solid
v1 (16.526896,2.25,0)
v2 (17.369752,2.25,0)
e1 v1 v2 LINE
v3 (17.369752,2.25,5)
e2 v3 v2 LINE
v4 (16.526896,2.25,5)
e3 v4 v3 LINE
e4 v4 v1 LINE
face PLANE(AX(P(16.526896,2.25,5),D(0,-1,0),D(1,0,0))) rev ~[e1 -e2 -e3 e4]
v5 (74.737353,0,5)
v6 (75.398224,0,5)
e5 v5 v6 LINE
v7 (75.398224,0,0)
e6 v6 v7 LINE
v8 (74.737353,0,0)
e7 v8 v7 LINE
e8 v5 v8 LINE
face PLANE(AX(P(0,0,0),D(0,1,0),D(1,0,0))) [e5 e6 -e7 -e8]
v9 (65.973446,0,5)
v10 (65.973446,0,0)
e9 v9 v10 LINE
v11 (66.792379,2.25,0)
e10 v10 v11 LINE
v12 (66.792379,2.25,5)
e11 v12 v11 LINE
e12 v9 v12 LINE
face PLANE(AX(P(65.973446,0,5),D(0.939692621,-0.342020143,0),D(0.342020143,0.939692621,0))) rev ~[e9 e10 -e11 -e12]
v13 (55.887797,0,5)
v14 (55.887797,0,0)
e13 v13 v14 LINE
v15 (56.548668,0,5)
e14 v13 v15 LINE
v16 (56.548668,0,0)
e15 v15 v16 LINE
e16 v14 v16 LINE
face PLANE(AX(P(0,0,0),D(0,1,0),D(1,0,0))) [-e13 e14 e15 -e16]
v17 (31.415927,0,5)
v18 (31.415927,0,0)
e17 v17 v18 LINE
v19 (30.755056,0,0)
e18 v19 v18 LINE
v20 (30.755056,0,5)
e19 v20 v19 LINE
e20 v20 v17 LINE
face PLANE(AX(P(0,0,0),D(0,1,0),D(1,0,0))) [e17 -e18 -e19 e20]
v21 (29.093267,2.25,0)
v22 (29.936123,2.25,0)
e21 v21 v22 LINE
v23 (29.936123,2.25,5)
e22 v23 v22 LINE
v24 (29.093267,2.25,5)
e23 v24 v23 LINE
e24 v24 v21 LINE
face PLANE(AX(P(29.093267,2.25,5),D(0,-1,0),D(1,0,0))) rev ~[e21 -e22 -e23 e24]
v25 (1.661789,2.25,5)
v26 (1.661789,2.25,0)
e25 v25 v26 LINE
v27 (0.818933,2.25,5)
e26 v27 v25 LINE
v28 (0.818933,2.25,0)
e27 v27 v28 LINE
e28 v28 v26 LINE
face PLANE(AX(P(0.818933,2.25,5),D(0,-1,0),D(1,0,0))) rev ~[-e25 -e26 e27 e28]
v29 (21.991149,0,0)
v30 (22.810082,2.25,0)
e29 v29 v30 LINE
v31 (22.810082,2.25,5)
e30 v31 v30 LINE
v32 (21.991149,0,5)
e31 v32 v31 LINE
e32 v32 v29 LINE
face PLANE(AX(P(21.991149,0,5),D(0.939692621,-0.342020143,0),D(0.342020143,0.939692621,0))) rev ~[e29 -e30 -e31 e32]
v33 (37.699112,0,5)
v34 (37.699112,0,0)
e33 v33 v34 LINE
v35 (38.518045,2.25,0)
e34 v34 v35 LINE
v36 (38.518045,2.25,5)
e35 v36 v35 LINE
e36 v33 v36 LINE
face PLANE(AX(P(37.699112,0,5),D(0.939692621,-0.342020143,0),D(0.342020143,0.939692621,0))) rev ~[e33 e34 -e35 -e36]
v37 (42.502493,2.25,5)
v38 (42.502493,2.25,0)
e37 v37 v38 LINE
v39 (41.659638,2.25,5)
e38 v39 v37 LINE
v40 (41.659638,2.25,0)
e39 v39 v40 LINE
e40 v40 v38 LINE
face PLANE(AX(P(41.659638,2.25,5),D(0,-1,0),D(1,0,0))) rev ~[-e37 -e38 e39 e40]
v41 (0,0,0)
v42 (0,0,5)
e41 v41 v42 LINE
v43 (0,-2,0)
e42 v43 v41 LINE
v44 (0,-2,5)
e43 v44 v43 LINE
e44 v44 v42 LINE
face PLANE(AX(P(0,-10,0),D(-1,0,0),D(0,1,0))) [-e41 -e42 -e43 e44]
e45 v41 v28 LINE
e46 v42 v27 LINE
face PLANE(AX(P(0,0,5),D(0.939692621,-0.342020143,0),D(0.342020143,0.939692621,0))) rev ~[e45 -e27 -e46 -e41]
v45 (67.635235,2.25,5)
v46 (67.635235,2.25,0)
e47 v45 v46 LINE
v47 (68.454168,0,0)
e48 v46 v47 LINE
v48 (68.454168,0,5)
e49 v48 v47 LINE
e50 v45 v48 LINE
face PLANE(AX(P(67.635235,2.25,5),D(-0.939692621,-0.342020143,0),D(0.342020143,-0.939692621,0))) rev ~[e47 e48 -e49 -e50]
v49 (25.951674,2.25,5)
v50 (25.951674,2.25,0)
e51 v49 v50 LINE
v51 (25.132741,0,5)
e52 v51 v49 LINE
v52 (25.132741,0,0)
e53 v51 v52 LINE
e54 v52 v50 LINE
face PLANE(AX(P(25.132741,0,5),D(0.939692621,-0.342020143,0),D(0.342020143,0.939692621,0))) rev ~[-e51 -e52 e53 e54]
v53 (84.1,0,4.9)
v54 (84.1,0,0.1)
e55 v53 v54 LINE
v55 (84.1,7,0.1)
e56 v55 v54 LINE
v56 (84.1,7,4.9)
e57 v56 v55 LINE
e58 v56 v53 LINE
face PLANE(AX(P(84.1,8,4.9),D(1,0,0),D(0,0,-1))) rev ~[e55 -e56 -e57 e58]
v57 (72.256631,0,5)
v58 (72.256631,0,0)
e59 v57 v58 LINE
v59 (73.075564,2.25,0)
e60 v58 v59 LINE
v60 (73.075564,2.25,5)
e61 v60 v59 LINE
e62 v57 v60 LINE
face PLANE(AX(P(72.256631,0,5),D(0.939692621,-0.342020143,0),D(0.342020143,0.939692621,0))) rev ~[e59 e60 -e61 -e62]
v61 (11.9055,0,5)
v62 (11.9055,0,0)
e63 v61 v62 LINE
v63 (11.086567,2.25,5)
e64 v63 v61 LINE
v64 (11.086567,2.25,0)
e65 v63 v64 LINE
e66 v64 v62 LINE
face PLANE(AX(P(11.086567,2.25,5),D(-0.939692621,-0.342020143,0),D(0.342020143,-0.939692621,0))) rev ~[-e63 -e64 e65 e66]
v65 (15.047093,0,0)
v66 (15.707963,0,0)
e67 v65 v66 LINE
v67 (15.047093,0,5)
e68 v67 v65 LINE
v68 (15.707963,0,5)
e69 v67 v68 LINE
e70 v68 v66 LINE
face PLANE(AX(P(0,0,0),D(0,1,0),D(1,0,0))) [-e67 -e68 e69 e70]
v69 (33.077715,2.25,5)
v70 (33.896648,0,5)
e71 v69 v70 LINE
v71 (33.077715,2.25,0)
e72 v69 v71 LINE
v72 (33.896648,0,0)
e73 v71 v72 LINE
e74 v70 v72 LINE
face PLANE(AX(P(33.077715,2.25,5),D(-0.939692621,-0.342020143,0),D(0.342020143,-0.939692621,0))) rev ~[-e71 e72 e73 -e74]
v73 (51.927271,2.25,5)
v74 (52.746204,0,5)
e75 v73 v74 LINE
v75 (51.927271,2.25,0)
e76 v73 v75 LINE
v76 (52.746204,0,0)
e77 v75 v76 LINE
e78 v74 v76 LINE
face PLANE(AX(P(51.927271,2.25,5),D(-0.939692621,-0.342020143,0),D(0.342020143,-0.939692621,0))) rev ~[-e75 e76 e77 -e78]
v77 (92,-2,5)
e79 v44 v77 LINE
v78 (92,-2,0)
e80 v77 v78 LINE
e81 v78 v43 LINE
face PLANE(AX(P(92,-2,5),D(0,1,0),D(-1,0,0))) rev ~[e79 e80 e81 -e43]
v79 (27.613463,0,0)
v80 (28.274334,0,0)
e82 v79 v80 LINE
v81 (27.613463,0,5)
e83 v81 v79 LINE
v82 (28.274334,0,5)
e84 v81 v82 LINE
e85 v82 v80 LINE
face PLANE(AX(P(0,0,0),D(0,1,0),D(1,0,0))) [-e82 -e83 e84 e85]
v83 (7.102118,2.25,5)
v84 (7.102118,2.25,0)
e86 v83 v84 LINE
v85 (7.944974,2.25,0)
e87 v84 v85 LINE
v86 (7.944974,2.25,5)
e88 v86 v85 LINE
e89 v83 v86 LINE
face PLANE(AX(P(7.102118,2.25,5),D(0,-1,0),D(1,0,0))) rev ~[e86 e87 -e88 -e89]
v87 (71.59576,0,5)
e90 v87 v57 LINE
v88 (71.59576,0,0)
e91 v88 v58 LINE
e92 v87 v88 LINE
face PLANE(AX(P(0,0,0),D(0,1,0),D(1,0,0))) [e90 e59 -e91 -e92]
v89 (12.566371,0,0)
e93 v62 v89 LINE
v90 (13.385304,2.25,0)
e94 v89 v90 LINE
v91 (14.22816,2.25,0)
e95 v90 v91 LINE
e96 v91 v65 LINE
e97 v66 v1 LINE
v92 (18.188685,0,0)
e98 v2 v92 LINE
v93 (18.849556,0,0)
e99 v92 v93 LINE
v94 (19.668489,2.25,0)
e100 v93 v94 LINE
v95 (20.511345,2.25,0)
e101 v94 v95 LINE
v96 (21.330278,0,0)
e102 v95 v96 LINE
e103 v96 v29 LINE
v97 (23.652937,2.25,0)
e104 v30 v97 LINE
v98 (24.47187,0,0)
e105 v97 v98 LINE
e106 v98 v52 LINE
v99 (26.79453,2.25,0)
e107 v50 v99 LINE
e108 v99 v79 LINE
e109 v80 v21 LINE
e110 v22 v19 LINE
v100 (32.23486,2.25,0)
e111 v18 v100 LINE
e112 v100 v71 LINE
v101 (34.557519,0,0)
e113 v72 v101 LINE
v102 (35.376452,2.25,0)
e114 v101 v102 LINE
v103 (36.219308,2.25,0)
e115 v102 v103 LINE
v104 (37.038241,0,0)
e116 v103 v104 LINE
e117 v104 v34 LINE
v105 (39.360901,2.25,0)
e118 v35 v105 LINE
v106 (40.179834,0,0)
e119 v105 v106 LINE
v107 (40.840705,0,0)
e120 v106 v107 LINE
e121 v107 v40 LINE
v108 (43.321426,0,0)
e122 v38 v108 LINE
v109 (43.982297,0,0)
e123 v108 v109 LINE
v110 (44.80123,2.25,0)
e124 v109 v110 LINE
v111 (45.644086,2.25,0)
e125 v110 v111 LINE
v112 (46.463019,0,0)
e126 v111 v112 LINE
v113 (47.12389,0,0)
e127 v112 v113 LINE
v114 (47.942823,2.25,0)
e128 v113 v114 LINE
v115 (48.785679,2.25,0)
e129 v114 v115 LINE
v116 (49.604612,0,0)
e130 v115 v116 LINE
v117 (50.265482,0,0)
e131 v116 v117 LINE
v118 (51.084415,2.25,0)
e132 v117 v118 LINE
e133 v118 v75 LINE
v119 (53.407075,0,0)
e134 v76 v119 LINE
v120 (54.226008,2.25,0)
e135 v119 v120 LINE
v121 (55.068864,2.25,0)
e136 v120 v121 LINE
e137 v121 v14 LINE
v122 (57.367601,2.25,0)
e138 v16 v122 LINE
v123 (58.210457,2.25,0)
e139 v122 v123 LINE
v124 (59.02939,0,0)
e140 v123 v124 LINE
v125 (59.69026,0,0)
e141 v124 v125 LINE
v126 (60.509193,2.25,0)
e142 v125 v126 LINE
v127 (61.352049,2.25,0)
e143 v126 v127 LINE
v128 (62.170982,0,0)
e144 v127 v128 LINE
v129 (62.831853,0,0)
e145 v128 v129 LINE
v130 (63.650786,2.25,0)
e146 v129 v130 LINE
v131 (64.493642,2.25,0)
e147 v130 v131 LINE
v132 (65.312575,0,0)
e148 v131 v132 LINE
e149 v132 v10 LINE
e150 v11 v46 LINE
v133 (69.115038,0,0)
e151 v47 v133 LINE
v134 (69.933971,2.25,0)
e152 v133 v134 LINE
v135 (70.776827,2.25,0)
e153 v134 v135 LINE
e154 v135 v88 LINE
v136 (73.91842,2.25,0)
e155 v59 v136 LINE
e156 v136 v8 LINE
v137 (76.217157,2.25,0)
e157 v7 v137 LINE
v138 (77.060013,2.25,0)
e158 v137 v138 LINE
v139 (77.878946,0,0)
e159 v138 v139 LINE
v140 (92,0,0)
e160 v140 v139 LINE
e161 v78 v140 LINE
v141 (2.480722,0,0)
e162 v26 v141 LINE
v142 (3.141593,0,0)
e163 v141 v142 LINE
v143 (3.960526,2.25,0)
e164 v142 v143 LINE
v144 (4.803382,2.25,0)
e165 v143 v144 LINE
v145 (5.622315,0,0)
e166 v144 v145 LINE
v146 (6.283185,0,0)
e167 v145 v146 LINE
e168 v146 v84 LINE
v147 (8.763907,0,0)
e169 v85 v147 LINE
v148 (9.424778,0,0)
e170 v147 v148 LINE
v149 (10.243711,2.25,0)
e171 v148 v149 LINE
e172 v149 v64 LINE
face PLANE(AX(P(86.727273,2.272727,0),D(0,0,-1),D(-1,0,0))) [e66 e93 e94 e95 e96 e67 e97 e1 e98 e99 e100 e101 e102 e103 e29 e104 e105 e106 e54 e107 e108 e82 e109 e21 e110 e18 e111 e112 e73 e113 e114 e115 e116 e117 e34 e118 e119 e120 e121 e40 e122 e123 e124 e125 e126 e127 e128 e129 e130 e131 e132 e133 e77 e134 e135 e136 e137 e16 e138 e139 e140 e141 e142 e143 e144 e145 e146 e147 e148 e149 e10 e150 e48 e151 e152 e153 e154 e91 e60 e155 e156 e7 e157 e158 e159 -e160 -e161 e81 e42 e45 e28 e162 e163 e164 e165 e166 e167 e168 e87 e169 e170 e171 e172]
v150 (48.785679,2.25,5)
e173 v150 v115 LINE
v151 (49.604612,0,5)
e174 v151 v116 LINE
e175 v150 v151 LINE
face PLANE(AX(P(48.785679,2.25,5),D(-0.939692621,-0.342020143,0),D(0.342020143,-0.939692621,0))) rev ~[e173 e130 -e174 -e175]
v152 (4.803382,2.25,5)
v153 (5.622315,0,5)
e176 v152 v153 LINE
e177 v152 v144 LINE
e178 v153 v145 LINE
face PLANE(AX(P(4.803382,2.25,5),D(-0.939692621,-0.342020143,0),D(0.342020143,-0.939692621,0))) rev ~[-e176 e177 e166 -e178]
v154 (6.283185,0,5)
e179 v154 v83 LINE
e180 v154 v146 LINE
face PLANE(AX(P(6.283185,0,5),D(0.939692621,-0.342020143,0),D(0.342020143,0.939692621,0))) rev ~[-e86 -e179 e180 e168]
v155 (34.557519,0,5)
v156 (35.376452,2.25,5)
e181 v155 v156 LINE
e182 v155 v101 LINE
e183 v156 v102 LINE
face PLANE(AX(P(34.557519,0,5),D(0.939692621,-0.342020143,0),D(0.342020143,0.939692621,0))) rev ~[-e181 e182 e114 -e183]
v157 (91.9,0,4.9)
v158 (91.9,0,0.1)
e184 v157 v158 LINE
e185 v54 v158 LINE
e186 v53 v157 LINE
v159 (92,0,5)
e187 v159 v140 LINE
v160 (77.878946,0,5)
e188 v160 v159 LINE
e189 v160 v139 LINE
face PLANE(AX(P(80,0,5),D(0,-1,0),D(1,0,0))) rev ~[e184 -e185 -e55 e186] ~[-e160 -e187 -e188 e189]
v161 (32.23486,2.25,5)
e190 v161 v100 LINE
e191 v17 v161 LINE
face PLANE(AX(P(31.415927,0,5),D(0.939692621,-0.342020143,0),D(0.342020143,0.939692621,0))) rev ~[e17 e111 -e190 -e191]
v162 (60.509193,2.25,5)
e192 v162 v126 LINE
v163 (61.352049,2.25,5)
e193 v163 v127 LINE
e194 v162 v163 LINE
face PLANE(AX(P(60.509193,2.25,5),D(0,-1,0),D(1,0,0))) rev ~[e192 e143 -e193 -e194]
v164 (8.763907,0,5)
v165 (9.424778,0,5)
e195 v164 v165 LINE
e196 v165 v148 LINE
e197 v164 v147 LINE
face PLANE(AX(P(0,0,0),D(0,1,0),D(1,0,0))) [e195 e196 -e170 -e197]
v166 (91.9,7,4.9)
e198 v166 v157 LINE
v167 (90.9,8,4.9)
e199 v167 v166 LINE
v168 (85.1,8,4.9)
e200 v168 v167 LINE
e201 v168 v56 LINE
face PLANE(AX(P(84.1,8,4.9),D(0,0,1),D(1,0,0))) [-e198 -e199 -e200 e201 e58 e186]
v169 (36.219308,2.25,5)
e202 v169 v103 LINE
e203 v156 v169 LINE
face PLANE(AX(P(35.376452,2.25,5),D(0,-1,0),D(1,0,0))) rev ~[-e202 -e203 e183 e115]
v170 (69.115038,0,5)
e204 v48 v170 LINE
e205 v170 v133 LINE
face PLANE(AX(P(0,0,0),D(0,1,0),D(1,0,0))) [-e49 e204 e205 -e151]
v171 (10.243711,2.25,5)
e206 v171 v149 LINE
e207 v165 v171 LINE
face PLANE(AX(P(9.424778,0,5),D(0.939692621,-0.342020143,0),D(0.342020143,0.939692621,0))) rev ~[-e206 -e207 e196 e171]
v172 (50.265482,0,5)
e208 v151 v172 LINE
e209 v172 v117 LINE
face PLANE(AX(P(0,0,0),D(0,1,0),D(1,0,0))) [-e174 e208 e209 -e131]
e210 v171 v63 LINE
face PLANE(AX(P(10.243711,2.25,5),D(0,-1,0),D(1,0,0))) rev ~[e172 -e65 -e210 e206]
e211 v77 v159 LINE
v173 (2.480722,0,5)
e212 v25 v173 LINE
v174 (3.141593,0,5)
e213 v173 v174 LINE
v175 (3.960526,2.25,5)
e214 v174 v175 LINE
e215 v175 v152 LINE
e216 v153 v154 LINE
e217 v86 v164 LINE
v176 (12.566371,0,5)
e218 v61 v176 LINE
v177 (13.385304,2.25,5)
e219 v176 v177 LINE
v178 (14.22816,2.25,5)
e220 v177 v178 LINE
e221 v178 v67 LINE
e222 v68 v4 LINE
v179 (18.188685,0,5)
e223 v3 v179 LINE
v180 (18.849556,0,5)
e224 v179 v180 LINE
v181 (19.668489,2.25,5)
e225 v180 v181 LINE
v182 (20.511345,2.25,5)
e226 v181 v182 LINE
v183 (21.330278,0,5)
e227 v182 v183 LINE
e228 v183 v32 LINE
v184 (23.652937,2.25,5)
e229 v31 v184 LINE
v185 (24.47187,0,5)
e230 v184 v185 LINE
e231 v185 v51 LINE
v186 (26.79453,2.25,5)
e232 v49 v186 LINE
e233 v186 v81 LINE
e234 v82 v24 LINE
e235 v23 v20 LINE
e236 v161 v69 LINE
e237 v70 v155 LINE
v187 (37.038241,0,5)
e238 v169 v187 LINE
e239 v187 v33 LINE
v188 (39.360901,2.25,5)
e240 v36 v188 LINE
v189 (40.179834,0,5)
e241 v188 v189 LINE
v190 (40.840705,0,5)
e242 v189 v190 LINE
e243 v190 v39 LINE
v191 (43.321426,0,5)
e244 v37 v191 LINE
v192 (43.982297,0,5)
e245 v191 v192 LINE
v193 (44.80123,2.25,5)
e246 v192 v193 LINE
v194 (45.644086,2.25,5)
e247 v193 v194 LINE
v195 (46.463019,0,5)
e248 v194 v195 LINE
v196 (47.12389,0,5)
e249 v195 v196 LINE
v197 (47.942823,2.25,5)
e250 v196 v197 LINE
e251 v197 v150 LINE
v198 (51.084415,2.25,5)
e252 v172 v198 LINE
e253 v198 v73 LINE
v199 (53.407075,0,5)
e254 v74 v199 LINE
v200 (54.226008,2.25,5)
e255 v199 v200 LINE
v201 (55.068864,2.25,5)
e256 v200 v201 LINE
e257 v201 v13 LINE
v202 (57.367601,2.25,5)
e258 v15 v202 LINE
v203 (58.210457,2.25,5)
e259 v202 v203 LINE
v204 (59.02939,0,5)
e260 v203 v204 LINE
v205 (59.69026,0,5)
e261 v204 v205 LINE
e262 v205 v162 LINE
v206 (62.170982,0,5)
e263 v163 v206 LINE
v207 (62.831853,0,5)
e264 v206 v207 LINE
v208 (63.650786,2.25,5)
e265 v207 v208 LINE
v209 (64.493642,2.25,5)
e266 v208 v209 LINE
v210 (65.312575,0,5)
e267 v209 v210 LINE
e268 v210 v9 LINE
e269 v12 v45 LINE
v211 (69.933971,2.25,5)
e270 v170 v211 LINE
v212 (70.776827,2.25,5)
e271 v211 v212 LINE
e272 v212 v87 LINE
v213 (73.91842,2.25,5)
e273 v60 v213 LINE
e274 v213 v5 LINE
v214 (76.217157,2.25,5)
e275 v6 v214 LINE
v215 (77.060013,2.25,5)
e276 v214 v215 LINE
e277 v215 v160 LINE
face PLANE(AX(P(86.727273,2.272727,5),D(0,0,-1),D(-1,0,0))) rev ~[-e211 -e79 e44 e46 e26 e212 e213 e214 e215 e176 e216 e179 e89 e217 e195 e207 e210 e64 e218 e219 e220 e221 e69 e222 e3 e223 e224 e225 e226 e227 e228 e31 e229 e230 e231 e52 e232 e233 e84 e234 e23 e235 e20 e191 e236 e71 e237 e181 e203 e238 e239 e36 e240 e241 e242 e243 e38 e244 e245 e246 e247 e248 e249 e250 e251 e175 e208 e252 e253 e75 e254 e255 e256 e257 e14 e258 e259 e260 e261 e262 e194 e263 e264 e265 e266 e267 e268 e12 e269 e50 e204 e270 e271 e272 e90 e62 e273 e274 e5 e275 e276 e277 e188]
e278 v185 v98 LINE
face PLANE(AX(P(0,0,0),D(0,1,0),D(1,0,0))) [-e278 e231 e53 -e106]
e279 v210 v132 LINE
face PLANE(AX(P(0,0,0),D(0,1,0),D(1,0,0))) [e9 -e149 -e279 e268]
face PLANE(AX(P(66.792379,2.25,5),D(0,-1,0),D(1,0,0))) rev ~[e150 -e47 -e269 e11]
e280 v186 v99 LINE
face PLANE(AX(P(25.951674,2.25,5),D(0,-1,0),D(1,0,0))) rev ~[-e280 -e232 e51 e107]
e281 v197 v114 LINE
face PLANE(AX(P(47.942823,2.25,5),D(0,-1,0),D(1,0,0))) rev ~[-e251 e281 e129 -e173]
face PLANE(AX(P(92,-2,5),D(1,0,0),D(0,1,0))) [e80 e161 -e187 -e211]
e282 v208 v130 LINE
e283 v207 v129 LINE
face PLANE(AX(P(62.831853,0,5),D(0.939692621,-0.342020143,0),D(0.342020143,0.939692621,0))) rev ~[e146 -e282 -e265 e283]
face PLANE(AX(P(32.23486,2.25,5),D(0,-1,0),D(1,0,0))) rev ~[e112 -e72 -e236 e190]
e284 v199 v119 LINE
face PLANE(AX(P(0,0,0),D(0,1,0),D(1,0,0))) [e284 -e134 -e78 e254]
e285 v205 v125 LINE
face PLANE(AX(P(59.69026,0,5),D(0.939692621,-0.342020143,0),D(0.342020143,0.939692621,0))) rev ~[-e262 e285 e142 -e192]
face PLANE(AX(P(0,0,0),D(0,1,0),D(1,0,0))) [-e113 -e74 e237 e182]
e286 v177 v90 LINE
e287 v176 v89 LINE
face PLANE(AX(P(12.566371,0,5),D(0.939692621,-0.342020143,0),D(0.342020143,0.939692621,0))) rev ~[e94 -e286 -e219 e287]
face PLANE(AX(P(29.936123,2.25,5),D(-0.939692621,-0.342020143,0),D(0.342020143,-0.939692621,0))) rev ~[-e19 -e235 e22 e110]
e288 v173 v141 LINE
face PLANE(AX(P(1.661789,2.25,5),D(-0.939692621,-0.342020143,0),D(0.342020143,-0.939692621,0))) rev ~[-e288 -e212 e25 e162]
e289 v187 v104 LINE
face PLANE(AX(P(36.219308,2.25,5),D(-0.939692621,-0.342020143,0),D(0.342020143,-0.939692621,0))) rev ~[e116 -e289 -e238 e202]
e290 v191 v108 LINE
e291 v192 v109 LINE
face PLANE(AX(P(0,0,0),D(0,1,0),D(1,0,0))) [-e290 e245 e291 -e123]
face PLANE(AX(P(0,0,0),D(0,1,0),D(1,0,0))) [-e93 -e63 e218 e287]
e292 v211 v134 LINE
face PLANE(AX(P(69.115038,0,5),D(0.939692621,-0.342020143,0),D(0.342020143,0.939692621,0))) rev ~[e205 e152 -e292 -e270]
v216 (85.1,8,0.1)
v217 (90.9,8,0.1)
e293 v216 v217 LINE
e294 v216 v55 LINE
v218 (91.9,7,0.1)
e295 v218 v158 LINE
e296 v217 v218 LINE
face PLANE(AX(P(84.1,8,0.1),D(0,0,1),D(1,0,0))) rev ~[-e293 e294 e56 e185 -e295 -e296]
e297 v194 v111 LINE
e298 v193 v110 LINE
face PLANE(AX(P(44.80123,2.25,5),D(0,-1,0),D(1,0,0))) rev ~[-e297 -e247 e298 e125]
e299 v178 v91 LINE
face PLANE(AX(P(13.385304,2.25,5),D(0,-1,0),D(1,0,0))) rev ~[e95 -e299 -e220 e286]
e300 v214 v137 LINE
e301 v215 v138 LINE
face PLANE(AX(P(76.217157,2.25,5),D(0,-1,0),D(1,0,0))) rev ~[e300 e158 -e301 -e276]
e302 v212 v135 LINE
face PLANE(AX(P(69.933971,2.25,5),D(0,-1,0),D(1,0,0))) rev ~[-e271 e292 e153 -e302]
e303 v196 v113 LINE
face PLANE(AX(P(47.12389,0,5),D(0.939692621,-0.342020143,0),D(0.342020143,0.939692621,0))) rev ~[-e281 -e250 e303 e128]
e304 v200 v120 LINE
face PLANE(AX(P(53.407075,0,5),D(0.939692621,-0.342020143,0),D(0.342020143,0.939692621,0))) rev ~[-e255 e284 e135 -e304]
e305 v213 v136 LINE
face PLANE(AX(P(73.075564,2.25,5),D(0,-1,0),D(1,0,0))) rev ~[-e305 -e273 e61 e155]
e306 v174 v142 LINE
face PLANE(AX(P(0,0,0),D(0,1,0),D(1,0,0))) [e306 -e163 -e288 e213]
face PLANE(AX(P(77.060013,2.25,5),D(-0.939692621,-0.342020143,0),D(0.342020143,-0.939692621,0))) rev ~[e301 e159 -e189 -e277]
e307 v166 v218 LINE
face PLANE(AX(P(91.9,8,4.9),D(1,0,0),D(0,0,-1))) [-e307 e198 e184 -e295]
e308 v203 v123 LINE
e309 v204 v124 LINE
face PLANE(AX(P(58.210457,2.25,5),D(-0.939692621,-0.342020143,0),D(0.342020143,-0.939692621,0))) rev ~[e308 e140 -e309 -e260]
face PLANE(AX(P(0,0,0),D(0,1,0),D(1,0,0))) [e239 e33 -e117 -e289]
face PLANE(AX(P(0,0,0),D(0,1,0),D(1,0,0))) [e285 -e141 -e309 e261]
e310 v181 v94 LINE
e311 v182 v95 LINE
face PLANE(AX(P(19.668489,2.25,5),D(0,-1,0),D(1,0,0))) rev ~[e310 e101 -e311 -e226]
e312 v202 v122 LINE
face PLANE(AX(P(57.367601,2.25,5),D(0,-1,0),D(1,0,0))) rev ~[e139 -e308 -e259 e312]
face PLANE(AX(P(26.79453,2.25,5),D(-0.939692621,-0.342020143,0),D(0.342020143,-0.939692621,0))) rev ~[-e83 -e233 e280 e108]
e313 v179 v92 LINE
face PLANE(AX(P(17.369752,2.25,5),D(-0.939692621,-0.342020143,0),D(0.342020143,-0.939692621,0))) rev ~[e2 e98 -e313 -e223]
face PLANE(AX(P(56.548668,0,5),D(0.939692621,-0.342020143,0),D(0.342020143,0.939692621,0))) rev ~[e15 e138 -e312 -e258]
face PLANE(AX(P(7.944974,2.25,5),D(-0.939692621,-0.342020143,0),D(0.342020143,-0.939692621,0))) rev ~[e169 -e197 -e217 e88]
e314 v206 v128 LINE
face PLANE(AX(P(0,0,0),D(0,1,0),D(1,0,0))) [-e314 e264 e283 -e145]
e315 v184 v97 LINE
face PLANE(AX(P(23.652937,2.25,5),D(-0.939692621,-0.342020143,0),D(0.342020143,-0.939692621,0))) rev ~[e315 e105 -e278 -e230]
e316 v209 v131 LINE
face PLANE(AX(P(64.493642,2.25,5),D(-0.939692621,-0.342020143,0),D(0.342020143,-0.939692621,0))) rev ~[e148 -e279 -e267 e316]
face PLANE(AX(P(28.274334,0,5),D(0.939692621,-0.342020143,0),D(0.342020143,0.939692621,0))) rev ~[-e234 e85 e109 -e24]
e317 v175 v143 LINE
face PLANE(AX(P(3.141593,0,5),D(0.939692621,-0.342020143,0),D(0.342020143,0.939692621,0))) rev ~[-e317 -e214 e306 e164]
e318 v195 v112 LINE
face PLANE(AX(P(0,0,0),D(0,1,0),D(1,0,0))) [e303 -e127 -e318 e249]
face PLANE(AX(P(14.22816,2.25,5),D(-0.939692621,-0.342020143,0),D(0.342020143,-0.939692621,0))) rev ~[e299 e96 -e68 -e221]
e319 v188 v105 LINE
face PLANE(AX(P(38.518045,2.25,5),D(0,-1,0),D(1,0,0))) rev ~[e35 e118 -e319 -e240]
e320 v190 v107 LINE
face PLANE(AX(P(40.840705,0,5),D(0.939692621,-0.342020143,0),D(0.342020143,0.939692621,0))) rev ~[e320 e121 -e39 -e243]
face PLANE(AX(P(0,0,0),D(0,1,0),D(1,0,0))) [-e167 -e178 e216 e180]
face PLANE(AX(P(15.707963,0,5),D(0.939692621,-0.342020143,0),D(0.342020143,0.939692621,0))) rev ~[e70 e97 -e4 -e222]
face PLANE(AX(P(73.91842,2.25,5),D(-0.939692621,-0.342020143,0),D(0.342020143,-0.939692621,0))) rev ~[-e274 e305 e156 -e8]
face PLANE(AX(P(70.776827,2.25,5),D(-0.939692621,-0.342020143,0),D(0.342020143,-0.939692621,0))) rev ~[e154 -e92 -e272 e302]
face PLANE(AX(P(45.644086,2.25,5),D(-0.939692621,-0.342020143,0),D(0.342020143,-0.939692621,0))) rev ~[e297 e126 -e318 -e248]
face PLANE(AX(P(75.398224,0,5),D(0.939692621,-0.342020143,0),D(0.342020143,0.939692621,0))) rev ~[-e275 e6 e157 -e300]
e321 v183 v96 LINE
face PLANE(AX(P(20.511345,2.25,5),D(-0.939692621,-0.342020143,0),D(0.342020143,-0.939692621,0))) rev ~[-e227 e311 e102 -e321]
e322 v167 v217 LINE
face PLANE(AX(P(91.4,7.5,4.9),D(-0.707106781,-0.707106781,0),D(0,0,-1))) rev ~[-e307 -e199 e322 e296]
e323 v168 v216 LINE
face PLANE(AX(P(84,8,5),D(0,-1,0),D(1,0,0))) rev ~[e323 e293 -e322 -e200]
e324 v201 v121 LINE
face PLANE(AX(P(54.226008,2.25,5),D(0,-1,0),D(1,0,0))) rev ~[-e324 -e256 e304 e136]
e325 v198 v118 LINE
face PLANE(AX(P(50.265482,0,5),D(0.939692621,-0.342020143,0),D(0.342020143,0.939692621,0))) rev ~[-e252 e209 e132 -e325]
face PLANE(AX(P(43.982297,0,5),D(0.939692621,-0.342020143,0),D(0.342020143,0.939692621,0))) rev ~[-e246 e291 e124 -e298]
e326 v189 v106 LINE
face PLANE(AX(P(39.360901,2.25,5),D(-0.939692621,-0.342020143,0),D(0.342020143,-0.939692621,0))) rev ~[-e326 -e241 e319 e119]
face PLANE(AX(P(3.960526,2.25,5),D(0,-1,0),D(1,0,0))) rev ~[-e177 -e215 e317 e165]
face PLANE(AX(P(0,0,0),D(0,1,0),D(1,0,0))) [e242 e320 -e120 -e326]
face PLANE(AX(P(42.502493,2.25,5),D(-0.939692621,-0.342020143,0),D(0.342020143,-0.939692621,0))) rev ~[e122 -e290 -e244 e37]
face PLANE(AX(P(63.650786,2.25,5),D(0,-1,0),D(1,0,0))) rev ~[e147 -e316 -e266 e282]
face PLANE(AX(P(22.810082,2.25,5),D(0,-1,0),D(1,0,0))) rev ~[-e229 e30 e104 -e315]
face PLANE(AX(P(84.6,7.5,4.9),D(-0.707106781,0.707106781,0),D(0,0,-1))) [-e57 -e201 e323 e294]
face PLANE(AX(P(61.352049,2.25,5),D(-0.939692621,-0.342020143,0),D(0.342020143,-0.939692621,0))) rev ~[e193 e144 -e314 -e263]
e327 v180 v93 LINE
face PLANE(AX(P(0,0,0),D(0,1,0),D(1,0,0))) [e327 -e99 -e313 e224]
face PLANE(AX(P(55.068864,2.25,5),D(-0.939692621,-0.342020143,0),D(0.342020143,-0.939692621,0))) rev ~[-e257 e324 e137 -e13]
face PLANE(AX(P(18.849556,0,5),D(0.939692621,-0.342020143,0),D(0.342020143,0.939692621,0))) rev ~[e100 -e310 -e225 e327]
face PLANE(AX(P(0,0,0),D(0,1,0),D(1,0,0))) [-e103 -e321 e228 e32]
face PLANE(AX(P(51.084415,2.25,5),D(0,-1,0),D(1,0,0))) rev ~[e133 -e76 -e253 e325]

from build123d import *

# Parameters (mm, degrees)
SKETCH_1_W             = 80
SKETCH_1_H             = 10
EXTRUDE_1_DEPTH        = 5
EXTRUDE_2_DEPTH        = 5
PATTERN_LINEAR_1_COUNT = 25
PATTERN_LINEAR_1_PITCH = 3.141592654
SKETCH_3_W             = 80
SKETCH_3_H             = 8
CUT_EXTRUDE_1_DEPTH    = 10
EXTRUDE_1_2_DEPTH      = 5
SKETCH_5_W             = 8
SKETCH_5_H             = 5
SKETCH_5_W_2           = 7.8
SKETCH_5_H_2           = 4.8
CUT_EXTRUDE_3_DEPTH    = 8
CHAMFER_1_SIZE         = 1


with BuildPart() as part:
    # 草图1 → Extrude 1 (new body)
    with BuildSketch(Plane.XY):
        with Locations((40, -5)):
            Rectangle(SKETCH_1_W, SKETCH_1_H)
    extrude(amount=EXTRUDE_1_DEPTH)

    # 草图2 → 拉伸2 (add)
    with BuildSketch(Plane.XY.offset(5)):
        Polygon((0, 0), (0.818933027, 2.25), (1.661788885, 2.25), (2.480721912, 0), align=None)
    extrude_2 = extrude(amount=-EXTRUDE_2_DEPTH)

    # 阵列(线性)1: 拉伸2 ×25
    with Locations(*[(i * PATTERN_LINEAR_1_PITCH, 0, 0) for i in range(1, PATTERN_LINEAR_1_COUNT)]):
        add(extrude_2)

    # 草图3 → 切除-拉伸1 (cut)
    with BuildSketch(Plane.XY.offset(5)):
        with Locations((40, -6)):
            Rectangle(SKETCH_3_W, SKETCH_3_H)
    extrude(amount=-CUT_EXTRUDE_1_DEPTH, mode=Mode.SUBTRACT)

    # 草图4 → Extrude 1 2 (add)
    with BuildSketch(Plane.XY.offset(5)):
        Polygon((80, 0), (84, 0), (84, 8), (92, 8), (92, 0), (92, -2), (80, -2), align=None)
    extrude(amount=-EXTRUDE_1_2_DEPTH)

    # 草图5 → 切除-拉伸3 (cut)
    with BuildSketch(Plane(origin=(0, 8, 0), x_dir=(1, 0, 0), z_dir=(0, 1, 0))):
        with Locations((88, -2.5)):
            Rectangle(SKETCH_5_W, SKETCH_5_H)
        with Locations((88, -2.5)):
            Rectangle(SKETCH_5_W_2, SKETCH_5_H_2, mode=Mode.SUBTRACT)
    extrude(amount=-CUT_EXTRUDE_3_DEPTH, mode=Mode.SUBTRACT)

    # 倒角1
    chamfer_1_edges = [part.edges().sort_by_distance(p)[0] for p in [
        (84.1, 8, 2.5),
        (91.9, 8, 2.5),
    ]]
    chamfer(chamfer_1_edges, length=CHAMFER_1_SIZE)


solid = part.part
